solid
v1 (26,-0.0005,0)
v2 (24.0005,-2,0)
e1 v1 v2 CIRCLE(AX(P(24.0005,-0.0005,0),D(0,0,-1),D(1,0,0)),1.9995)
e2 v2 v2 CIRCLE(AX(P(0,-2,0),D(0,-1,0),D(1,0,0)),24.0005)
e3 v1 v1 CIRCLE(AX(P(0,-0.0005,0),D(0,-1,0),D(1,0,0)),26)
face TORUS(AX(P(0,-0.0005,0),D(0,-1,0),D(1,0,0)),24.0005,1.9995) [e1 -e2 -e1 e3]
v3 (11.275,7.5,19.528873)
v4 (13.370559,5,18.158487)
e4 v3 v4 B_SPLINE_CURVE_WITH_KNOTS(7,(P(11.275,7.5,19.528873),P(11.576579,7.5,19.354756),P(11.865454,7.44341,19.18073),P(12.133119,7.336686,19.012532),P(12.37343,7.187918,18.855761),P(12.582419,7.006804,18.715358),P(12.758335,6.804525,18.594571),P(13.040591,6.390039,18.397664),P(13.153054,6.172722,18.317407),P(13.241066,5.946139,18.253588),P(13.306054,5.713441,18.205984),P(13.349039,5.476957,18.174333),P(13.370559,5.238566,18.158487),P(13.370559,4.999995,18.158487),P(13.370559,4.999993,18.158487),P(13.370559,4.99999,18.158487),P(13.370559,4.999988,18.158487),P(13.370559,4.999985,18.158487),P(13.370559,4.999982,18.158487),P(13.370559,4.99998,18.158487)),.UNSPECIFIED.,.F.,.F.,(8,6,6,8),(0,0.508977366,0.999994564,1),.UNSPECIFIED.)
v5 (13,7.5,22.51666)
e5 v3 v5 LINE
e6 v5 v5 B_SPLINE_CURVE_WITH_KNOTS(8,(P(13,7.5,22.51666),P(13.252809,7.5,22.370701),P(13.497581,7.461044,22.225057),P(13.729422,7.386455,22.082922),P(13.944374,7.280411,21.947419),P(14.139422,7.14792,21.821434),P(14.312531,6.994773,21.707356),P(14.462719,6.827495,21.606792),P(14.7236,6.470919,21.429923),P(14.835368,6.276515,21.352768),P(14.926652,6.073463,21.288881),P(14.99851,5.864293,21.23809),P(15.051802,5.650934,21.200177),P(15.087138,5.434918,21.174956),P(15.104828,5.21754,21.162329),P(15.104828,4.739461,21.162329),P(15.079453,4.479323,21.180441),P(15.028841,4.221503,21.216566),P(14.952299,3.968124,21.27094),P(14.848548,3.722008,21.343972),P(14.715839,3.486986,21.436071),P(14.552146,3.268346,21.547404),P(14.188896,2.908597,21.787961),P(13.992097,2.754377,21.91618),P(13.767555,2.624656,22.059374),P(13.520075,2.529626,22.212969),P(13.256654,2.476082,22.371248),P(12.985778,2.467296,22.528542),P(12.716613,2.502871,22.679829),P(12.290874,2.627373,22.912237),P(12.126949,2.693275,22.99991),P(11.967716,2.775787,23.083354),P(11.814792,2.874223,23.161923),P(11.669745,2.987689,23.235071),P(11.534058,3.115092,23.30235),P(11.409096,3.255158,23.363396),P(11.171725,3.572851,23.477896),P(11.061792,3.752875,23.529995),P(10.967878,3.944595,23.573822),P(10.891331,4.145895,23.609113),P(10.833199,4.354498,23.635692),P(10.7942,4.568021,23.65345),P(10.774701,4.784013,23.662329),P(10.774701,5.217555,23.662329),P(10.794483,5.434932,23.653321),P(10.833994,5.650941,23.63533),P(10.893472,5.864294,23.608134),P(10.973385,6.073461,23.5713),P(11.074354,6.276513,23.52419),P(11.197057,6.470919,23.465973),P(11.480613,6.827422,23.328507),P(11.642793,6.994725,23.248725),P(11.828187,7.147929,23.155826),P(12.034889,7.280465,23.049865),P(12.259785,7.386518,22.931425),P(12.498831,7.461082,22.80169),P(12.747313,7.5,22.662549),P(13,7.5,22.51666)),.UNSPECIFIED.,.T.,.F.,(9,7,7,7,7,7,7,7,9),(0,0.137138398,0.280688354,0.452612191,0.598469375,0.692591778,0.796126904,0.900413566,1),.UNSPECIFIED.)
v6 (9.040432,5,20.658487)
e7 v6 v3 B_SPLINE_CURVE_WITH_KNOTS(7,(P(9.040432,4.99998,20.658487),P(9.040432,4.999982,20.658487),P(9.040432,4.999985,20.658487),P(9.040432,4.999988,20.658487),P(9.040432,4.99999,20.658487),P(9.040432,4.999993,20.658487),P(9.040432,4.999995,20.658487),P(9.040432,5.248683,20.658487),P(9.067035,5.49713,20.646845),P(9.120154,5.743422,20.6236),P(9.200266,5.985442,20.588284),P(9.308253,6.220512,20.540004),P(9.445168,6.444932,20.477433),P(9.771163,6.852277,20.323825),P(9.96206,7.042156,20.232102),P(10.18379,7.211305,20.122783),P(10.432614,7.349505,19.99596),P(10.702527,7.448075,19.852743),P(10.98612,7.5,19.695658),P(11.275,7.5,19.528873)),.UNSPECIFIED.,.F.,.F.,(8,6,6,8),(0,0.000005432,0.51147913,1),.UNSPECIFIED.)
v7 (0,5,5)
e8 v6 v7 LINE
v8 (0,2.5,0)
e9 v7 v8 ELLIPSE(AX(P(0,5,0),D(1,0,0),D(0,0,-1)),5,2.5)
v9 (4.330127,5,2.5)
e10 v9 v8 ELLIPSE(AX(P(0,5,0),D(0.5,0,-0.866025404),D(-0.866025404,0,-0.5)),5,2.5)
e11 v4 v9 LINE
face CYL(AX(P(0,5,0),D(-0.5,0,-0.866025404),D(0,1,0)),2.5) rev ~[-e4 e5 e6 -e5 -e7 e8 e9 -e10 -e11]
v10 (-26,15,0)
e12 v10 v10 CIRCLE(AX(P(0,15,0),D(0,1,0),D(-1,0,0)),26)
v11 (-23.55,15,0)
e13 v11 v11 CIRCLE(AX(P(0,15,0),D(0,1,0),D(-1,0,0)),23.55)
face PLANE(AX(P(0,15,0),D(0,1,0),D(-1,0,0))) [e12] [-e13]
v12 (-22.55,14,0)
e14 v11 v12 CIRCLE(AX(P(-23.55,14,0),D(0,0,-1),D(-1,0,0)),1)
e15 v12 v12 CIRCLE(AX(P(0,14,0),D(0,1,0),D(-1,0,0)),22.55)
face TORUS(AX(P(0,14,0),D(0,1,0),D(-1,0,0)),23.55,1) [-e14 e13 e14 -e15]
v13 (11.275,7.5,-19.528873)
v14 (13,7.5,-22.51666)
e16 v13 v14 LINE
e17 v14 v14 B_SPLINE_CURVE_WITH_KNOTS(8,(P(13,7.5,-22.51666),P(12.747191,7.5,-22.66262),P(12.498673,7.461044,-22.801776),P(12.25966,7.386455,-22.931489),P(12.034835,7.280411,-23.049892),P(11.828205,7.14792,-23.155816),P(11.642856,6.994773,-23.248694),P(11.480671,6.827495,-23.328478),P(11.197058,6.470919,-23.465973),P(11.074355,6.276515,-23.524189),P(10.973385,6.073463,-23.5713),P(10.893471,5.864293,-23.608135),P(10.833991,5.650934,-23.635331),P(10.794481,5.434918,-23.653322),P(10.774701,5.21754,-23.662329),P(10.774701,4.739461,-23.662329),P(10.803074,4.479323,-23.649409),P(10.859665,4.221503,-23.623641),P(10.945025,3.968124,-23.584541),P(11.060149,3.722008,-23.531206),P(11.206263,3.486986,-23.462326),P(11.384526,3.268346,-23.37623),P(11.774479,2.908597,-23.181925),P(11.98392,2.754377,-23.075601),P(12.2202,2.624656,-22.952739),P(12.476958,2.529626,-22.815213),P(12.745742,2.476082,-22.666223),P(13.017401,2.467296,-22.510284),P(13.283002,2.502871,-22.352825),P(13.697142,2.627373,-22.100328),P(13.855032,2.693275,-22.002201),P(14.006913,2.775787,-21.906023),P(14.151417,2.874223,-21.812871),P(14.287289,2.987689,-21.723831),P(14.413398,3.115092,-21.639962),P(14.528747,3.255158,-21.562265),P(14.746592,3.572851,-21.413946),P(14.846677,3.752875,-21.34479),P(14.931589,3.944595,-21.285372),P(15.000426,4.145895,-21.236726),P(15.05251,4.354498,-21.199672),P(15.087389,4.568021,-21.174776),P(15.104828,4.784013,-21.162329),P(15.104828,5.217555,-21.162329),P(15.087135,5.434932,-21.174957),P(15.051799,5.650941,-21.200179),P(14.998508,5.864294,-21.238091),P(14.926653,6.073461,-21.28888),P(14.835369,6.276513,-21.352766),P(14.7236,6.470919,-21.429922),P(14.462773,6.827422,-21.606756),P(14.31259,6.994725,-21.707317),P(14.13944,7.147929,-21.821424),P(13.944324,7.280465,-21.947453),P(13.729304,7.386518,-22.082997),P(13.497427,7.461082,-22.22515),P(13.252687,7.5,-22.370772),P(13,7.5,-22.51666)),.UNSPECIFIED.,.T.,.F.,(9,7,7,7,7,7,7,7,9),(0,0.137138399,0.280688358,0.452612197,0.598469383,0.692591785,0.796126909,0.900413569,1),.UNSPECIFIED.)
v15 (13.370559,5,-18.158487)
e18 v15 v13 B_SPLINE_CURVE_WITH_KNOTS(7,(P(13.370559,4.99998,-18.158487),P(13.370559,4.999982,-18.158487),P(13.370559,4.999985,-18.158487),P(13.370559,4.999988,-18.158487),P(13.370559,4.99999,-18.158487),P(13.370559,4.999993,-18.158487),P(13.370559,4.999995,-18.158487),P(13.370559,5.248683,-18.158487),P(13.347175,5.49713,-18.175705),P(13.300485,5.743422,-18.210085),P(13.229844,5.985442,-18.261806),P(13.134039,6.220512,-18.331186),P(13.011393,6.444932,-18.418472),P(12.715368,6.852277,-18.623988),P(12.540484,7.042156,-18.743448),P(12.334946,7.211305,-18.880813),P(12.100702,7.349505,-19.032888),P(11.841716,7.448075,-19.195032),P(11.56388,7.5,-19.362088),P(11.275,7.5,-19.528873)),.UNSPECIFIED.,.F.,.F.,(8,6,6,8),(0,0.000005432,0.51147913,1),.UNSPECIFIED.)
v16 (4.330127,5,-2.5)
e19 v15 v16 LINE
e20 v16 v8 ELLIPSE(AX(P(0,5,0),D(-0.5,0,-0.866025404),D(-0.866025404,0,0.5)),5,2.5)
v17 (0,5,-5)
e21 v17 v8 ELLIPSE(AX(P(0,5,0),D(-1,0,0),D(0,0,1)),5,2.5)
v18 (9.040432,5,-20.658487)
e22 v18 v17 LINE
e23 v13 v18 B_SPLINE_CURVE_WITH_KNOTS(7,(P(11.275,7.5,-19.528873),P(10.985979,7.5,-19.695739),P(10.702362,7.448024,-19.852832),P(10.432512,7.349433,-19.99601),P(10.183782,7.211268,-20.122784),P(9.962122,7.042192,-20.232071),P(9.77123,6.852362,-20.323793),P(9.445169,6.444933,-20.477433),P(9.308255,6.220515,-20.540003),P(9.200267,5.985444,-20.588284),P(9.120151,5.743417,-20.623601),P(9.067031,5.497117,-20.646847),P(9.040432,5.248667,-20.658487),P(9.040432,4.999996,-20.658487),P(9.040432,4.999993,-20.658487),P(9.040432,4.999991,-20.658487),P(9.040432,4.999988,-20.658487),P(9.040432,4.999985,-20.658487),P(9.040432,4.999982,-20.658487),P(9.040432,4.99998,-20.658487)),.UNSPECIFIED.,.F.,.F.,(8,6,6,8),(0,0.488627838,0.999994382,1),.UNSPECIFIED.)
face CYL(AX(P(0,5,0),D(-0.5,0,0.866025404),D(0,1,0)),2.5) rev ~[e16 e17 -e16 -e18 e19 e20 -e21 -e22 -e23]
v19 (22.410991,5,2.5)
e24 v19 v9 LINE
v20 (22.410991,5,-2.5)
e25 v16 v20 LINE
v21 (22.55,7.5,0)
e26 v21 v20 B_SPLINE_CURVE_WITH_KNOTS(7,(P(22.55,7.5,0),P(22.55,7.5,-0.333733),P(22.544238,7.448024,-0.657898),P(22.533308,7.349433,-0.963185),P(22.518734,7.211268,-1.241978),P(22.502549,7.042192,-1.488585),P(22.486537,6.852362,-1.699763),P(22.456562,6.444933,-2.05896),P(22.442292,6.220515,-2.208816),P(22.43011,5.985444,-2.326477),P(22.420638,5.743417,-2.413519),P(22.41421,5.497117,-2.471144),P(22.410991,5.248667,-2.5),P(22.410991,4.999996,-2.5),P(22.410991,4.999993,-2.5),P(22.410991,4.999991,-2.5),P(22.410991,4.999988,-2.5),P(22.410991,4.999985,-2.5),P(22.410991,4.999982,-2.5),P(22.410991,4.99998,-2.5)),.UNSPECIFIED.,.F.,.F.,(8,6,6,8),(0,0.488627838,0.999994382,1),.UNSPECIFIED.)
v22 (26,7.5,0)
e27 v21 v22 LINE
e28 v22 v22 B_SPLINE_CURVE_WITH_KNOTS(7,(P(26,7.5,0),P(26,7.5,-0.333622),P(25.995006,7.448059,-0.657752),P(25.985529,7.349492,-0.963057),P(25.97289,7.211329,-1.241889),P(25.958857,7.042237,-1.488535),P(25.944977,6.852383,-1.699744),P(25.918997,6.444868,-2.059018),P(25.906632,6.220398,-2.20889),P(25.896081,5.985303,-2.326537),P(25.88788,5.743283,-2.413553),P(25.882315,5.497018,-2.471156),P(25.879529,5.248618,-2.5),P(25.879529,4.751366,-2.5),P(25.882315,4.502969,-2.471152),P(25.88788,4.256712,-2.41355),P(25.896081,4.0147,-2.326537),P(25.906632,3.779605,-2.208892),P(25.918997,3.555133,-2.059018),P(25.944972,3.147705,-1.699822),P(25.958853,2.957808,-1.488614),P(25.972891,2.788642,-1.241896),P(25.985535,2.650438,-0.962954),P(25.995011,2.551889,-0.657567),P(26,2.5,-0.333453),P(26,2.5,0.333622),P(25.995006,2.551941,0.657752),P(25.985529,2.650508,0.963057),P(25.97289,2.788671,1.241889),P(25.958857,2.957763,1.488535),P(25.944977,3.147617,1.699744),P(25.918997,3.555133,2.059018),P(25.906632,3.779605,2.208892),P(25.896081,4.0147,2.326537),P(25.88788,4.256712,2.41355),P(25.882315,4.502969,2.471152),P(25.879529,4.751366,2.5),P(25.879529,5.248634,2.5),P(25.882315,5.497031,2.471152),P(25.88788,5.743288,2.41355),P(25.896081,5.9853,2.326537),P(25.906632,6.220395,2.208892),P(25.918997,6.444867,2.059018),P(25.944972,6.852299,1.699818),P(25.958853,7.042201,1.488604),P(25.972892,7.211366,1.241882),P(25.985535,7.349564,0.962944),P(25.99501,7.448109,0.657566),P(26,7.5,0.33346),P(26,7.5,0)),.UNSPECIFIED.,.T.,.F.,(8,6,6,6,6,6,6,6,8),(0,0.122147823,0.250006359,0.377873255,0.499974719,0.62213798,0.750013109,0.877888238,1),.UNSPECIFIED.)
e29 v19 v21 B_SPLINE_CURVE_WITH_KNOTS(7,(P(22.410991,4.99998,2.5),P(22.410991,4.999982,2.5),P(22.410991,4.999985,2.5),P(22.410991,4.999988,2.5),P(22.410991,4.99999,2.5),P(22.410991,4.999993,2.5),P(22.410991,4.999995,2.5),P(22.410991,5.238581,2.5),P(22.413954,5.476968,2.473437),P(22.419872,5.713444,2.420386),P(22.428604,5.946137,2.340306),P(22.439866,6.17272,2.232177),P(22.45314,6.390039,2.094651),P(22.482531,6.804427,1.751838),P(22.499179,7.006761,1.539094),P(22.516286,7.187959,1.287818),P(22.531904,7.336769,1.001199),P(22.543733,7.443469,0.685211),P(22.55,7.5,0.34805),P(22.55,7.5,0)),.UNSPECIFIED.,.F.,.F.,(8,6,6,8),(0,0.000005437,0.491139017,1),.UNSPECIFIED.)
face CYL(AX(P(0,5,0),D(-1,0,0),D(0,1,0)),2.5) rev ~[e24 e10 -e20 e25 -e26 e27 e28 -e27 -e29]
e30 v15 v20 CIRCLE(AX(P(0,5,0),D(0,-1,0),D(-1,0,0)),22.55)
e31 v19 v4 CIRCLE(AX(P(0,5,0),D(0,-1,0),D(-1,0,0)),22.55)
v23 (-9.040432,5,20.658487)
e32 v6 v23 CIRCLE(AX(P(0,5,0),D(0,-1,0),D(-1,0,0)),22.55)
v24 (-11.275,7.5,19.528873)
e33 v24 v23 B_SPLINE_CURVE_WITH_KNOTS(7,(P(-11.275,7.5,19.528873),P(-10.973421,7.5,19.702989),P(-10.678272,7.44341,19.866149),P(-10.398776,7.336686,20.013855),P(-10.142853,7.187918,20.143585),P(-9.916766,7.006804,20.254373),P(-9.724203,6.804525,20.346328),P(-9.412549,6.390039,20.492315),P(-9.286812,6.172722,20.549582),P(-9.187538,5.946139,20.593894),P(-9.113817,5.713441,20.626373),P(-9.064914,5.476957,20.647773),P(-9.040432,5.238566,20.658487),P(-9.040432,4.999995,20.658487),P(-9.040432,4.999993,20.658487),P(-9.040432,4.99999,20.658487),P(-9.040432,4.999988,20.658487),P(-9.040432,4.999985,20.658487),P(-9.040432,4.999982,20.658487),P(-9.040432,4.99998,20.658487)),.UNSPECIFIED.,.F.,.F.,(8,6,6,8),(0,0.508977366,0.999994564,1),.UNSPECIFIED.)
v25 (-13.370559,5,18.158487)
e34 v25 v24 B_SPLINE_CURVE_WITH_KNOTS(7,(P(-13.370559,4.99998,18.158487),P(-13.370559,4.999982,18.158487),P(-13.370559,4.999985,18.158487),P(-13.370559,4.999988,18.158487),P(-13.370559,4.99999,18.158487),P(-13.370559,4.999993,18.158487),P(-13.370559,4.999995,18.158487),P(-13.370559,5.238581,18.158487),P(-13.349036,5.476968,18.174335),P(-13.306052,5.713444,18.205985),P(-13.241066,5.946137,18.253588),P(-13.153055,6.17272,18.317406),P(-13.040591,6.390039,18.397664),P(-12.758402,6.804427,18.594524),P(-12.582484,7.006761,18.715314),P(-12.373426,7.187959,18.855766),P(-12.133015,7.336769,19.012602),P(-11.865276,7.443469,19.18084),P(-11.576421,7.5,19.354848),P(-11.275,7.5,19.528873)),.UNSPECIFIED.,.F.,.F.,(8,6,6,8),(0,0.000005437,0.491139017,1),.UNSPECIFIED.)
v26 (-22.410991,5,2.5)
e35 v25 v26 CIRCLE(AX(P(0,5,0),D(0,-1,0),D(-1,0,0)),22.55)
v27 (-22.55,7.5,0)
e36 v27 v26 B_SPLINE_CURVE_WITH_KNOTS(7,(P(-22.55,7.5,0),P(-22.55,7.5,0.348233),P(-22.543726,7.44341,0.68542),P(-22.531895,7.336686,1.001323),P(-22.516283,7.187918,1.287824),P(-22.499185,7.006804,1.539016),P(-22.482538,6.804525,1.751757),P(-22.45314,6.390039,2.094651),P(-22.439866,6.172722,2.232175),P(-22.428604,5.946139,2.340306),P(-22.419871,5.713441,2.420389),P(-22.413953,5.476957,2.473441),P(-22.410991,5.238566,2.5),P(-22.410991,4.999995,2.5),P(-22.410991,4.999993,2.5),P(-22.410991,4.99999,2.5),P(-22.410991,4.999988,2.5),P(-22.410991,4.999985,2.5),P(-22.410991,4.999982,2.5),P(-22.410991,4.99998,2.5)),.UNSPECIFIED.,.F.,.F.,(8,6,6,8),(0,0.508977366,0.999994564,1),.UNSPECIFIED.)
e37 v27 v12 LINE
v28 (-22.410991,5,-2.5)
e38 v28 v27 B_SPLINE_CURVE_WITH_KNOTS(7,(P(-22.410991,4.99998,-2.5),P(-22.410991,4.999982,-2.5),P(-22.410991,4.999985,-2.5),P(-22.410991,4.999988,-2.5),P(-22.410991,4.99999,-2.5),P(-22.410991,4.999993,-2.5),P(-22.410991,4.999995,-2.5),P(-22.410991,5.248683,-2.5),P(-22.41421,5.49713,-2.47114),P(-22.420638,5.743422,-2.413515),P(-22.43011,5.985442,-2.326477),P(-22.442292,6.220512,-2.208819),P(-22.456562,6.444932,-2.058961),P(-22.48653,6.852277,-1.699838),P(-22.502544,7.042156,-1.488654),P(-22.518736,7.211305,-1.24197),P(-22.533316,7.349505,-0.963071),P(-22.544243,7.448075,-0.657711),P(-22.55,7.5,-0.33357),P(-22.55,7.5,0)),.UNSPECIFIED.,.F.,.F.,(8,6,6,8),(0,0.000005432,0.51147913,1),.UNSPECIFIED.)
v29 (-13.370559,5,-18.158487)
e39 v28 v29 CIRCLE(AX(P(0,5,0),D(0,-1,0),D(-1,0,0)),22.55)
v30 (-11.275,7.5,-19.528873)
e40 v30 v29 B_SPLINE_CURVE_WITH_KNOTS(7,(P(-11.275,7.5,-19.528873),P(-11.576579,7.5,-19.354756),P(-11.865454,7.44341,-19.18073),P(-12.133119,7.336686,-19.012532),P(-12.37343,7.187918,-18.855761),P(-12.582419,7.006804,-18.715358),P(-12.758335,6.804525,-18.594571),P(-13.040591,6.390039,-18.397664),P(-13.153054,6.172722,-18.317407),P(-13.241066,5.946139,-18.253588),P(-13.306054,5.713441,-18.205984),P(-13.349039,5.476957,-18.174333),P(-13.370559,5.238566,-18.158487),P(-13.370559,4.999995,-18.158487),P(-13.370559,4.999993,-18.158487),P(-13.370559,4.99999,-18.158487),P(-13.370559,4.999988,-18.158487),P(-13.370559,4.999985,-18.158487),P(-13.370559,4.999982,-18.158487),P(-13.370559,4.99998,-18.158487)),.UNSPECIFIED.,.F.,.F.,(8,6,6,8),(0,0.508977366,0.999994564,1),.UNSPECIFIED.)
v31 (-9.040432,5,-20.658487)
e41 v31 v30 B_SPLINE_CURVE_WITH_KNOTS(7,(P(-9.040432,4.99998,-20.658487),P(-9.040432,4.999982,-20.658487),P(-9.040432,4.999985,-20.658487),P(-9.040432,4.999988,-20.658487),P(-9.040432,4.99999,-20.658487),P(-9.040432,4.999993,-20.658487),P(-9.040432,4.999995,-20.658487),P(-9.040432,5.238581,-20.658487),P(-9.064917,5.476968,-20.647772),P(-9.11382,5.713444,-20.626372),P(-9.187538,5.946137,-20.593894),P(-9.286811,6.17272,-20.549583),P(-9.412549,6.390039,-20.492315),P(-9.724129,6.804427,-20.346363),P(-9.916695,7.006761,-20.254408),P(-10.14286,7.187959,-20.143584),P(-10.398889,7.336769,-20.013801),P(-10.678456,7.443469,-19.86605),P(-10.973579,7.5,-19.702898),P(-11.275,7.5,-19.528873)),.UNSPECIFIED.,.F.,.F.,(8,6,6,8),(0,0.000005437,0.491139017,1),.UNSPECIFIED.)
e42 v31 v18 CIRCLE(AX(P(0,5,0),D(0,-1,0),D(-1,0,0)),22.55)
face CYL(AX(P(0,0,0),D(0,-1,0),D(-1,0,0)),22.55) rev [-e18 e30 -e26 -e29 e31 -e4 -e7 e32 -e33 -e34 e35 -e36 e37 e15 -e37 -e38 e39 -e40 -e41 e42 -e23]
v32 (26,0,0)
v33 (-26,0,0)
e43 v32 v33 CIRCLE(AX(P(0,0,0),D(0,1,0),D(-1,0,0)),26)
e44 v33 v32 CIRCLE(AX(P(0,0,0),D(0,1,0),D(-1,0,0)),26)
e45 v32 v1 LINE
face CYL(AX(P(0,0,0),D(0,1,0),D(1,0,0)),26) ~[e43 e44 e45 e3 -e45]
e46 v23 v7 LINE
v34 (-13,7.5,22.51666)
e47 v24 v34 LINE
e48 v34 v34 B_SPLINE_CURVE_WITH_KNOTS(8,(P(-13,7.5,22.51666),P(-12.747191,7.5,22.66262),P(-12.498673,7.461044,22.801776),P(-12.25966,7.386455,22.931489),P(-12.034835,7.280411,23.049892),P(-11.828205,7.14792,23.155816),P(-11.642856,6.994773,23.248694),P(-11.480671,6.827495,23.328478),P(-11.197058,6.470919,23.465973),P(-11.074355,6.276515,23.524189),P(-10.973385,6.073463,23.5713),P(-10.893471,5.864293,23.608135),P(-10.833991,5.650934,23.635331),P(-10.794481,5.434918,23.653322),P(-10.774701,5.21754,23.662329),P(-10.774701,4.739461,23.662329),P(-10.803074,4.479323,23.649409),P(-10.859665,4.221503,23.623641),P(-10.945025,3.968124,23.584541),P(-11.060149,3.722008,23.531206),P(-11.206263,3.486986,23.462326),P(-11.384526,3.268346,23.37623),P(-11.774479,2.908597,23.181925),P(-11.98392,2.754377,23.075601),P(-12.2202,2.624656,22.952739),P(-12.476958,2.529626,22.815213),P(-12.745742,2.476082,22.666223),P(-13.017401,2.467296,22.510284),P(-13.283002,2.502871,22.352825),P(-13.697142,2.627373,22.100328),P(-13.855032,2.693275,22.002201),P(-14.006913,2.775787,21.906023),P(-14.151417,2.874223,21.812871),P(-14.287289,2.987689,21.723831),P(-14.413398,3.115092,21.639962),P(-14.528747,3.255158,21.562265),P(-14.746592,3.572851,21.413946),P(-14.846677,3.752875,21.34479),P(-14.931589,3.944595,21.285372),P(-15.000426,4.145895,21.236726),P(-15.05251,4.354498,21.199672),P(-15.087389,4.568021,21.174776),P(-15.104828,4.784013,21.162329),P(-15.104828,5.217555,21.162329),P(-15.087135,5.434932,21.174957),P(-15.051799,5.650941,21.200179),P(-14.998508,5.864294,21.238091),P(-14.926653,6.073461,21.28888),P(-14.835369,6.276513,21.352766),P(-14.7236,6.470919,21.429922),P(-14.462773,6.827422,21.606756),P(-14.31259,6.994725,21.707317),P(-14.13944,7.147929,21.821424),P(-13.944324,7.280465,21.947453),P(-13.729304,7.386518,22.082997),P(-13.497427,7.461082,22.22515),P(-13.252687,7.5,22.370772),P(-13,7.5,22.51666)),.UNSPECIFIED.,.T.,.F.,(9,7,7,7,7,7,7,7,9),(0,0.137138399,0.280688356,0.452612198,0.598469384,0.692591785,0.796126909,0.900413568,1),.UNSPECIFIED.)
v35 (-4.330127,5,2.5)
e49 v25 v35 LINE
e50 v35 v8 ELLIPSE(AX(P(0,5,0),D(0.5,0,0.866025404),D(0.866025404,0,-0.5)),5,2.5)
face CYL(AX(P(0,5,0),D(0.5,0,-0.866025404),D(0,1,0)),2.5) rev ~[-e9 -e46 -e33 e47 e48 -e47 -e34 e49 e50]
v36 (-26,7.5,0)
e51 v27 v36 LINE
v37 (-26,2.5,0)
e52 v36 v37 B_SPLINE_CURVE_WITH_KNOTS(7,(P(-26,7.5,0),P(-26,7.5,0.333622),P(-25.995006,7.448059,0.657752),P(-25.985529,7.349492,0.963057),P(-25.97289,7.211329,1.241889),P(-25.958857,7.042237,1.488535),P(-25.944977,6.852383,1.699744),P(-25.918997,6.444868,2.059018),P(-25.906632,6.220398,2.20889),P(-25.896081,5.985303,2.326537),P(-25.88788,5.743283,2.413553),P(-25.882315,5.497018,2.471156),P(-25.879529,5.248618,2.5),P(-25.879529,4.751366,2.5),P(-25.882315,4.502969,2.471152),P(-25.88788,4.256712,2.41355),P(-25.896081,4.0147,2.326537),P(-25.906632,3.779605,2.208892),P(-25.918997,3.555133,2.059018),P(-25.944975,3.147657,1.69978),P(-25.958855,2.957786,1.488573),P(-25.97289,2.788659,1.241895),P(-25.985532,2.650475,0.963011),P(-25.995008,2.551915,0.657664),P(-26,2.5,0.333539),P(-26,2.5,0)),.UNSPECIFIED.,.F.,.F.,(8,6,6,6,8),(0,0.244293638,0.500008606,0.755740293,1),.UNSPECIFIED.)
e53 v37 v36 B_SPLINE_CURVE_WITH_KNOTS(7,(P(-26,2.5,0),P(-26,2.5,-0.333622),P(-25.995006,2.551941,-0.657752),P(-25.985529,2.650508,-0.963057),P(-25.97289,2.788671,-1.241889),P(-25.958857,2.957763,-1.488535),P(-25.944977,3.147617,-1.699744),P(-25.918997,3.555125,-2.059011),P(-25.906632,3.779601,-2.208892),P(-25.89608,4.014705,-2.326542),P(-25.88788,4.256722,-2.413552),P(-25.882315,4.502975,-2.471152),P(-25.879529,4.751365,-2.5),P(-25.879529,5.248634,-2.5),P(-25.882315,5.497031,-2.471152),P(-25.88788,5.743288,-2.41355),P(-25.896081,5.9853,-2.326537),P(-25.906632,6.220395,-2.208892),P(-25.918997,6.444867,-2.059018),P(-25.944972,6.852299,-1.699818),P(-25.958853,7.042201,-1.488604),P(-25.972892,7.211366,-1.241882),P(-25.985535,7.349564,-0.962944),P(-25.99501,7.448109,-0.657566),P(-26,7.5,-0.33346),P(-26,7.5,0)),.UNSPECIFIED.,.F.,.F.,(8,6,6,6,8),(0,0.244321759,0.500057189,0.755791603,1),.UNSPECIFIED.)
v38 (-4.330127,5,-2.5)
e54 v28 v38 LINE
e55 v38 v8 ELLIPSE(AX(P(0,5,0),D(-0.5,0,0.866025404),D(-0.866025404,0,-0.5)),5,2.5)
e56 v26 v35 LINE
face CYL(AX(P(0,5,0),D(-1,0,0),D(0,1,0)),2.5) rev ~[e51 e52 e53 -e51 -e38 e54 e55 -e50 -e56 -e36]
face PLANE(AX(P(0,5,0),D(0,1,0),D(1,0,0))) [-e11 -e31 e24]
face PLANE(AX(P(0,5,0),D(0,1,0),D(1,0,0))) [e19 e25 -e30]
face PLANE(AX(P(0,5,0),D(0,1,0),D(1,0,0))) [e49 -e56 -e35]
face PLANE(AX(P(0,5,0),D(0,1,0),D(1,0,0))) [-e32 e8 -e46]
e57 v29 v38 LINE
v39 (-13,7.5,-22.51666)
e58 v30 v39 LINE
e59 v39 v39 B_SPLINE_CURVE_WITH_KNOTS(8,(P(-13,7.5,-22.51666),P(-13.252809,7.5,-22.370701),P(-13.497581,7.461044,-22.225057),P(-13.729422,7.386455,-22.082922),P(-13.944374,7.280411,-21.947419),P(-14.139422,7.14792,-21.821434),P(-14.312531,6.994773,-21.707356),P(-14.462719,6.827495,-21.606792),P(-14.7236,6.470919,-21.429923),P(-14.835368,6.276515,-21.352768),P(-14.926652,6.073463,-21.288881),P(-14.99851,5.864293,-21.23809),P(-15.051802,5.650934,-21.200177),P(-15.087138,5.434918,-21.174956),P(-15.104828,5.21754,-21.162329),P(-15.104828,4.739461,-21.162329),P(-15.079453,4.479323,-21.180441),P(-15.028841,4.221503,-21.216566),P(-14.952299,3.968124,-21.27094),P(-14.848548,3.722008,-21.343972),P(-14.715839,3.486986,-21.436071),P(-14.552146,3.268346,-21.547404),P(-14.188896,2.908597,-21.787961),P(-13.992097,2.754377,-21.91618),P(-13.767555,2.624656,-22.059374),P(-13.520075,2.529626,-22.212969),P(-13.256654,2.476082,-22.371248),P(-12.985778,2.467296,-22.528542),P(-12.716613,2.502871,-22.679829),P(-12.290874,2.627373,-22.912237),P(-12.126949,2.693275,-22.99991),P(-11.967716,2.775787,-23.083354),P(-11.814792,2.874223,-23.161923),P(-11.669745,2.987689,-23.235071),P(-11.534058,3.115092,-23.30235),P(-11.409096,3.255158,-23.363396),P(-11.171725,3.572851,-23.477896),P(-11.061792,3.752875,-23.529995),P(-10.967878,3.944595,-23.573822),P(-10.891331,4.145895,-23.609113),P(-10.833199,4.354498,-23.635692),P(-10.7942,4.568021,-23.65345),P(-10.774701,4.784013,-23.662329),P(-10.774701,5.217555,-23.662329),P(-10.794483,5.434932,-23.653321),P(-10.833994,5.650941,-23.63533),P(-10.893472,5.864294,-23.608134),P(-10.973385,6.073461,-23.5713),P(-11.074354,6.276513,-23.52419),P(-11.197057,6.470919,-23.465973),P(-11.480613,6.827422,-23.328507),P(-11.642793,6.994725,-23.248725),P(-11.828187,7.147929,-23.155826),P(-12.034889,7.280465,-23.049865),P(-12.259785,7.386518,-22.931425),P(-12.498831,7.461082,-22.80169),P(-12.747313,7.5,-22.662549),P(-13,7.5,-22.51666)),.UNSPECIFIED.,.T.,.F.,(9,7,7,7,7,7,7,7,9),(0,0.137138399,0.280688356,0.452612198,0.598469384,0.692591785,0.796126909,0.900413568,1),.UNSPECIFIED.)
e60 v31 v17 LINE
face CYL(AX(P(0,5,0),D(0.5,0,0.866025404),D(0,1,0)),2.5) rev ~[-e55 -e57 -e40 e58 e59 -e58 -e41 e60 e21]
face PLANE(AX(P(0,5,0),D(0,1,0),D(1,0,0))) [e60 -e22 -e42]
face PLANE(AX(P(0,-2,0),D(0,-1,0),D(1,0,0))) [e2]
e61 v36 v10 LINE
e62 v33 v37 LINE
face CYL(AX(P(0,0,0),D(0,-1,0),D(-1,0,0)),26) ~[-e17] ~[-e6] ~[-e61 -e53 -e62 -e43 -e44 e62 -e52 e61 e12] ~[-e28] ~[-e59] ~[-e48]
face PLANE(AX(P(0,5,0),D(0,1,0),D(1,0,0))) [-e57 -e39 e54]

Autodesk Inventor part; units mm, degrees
ref_plane "YZ Plane" through (0, 0, 0) normal (1, 0, 0) x (0, 1, 0)
ref_plane "XZ Plane" through (0, 0, 0) normal (0, 1, 0) x (-1, 0, 0)
ref_plane "XY Plane" through (0, 0, 0) normal (0, 0, 1) x (1, 0, 0)
sketch "Sketch1" plane through (0, 0, 0) normal (0, 1, 0) x (-1, 0, 0)
  circle A0 centre (0, 0) radius 22.55
  circle A1 centre (0, 0) radius 26
  dimension "d0" = 45.1
  dimension "d1" = 52
extrude "Extrusion1" add sketch "Sketch1" along normal blind 15
sketch "Sketch2" plane through (0, 0, 0) normal (0, -1, 0) x (1, 0, 0)
  circle A0 centre (0, 0) radius 26
  circle A1 centre (0, 0) radius 26 projected
extrude "Extrusion2" add sketch "Sketch2" along normal blind 2
fillet "Fillet1" radius 1 1 edges at (22.55, 15, 0)
sketch "Sketch3" plane through (0, 0, 0) normal (0, 1, 0) x (1, 0, 0)
  circle A0 centre (0, 0) radius 23
extrude "Extrusion3" add sketch "Sketch3" along normal blind 5
sketch "Sketch4" plane through (0, 0, 0) normal (1, 0, 0) x (0, 1, 0)
  line L0 (5, 22.55) -> (5, -22.55) projected
  circle A0 centre (5, 0) radius 2.5
  line L1 (5, -2.5) -> (5, 2.5)
  dimension "d9" = 5
extrude "Extrusion4" cut sketch "Sketch4" against normal through all
pattern_circular "Circular Pattern1" count 6 over 360 about axis through (0, 0, 0) along (0, 1, 0) of "Extrusion4"
fillet "Fillet2" radius 2 1 edges at (-26, -2, 0)
properties part number "Tapacontenedor"
